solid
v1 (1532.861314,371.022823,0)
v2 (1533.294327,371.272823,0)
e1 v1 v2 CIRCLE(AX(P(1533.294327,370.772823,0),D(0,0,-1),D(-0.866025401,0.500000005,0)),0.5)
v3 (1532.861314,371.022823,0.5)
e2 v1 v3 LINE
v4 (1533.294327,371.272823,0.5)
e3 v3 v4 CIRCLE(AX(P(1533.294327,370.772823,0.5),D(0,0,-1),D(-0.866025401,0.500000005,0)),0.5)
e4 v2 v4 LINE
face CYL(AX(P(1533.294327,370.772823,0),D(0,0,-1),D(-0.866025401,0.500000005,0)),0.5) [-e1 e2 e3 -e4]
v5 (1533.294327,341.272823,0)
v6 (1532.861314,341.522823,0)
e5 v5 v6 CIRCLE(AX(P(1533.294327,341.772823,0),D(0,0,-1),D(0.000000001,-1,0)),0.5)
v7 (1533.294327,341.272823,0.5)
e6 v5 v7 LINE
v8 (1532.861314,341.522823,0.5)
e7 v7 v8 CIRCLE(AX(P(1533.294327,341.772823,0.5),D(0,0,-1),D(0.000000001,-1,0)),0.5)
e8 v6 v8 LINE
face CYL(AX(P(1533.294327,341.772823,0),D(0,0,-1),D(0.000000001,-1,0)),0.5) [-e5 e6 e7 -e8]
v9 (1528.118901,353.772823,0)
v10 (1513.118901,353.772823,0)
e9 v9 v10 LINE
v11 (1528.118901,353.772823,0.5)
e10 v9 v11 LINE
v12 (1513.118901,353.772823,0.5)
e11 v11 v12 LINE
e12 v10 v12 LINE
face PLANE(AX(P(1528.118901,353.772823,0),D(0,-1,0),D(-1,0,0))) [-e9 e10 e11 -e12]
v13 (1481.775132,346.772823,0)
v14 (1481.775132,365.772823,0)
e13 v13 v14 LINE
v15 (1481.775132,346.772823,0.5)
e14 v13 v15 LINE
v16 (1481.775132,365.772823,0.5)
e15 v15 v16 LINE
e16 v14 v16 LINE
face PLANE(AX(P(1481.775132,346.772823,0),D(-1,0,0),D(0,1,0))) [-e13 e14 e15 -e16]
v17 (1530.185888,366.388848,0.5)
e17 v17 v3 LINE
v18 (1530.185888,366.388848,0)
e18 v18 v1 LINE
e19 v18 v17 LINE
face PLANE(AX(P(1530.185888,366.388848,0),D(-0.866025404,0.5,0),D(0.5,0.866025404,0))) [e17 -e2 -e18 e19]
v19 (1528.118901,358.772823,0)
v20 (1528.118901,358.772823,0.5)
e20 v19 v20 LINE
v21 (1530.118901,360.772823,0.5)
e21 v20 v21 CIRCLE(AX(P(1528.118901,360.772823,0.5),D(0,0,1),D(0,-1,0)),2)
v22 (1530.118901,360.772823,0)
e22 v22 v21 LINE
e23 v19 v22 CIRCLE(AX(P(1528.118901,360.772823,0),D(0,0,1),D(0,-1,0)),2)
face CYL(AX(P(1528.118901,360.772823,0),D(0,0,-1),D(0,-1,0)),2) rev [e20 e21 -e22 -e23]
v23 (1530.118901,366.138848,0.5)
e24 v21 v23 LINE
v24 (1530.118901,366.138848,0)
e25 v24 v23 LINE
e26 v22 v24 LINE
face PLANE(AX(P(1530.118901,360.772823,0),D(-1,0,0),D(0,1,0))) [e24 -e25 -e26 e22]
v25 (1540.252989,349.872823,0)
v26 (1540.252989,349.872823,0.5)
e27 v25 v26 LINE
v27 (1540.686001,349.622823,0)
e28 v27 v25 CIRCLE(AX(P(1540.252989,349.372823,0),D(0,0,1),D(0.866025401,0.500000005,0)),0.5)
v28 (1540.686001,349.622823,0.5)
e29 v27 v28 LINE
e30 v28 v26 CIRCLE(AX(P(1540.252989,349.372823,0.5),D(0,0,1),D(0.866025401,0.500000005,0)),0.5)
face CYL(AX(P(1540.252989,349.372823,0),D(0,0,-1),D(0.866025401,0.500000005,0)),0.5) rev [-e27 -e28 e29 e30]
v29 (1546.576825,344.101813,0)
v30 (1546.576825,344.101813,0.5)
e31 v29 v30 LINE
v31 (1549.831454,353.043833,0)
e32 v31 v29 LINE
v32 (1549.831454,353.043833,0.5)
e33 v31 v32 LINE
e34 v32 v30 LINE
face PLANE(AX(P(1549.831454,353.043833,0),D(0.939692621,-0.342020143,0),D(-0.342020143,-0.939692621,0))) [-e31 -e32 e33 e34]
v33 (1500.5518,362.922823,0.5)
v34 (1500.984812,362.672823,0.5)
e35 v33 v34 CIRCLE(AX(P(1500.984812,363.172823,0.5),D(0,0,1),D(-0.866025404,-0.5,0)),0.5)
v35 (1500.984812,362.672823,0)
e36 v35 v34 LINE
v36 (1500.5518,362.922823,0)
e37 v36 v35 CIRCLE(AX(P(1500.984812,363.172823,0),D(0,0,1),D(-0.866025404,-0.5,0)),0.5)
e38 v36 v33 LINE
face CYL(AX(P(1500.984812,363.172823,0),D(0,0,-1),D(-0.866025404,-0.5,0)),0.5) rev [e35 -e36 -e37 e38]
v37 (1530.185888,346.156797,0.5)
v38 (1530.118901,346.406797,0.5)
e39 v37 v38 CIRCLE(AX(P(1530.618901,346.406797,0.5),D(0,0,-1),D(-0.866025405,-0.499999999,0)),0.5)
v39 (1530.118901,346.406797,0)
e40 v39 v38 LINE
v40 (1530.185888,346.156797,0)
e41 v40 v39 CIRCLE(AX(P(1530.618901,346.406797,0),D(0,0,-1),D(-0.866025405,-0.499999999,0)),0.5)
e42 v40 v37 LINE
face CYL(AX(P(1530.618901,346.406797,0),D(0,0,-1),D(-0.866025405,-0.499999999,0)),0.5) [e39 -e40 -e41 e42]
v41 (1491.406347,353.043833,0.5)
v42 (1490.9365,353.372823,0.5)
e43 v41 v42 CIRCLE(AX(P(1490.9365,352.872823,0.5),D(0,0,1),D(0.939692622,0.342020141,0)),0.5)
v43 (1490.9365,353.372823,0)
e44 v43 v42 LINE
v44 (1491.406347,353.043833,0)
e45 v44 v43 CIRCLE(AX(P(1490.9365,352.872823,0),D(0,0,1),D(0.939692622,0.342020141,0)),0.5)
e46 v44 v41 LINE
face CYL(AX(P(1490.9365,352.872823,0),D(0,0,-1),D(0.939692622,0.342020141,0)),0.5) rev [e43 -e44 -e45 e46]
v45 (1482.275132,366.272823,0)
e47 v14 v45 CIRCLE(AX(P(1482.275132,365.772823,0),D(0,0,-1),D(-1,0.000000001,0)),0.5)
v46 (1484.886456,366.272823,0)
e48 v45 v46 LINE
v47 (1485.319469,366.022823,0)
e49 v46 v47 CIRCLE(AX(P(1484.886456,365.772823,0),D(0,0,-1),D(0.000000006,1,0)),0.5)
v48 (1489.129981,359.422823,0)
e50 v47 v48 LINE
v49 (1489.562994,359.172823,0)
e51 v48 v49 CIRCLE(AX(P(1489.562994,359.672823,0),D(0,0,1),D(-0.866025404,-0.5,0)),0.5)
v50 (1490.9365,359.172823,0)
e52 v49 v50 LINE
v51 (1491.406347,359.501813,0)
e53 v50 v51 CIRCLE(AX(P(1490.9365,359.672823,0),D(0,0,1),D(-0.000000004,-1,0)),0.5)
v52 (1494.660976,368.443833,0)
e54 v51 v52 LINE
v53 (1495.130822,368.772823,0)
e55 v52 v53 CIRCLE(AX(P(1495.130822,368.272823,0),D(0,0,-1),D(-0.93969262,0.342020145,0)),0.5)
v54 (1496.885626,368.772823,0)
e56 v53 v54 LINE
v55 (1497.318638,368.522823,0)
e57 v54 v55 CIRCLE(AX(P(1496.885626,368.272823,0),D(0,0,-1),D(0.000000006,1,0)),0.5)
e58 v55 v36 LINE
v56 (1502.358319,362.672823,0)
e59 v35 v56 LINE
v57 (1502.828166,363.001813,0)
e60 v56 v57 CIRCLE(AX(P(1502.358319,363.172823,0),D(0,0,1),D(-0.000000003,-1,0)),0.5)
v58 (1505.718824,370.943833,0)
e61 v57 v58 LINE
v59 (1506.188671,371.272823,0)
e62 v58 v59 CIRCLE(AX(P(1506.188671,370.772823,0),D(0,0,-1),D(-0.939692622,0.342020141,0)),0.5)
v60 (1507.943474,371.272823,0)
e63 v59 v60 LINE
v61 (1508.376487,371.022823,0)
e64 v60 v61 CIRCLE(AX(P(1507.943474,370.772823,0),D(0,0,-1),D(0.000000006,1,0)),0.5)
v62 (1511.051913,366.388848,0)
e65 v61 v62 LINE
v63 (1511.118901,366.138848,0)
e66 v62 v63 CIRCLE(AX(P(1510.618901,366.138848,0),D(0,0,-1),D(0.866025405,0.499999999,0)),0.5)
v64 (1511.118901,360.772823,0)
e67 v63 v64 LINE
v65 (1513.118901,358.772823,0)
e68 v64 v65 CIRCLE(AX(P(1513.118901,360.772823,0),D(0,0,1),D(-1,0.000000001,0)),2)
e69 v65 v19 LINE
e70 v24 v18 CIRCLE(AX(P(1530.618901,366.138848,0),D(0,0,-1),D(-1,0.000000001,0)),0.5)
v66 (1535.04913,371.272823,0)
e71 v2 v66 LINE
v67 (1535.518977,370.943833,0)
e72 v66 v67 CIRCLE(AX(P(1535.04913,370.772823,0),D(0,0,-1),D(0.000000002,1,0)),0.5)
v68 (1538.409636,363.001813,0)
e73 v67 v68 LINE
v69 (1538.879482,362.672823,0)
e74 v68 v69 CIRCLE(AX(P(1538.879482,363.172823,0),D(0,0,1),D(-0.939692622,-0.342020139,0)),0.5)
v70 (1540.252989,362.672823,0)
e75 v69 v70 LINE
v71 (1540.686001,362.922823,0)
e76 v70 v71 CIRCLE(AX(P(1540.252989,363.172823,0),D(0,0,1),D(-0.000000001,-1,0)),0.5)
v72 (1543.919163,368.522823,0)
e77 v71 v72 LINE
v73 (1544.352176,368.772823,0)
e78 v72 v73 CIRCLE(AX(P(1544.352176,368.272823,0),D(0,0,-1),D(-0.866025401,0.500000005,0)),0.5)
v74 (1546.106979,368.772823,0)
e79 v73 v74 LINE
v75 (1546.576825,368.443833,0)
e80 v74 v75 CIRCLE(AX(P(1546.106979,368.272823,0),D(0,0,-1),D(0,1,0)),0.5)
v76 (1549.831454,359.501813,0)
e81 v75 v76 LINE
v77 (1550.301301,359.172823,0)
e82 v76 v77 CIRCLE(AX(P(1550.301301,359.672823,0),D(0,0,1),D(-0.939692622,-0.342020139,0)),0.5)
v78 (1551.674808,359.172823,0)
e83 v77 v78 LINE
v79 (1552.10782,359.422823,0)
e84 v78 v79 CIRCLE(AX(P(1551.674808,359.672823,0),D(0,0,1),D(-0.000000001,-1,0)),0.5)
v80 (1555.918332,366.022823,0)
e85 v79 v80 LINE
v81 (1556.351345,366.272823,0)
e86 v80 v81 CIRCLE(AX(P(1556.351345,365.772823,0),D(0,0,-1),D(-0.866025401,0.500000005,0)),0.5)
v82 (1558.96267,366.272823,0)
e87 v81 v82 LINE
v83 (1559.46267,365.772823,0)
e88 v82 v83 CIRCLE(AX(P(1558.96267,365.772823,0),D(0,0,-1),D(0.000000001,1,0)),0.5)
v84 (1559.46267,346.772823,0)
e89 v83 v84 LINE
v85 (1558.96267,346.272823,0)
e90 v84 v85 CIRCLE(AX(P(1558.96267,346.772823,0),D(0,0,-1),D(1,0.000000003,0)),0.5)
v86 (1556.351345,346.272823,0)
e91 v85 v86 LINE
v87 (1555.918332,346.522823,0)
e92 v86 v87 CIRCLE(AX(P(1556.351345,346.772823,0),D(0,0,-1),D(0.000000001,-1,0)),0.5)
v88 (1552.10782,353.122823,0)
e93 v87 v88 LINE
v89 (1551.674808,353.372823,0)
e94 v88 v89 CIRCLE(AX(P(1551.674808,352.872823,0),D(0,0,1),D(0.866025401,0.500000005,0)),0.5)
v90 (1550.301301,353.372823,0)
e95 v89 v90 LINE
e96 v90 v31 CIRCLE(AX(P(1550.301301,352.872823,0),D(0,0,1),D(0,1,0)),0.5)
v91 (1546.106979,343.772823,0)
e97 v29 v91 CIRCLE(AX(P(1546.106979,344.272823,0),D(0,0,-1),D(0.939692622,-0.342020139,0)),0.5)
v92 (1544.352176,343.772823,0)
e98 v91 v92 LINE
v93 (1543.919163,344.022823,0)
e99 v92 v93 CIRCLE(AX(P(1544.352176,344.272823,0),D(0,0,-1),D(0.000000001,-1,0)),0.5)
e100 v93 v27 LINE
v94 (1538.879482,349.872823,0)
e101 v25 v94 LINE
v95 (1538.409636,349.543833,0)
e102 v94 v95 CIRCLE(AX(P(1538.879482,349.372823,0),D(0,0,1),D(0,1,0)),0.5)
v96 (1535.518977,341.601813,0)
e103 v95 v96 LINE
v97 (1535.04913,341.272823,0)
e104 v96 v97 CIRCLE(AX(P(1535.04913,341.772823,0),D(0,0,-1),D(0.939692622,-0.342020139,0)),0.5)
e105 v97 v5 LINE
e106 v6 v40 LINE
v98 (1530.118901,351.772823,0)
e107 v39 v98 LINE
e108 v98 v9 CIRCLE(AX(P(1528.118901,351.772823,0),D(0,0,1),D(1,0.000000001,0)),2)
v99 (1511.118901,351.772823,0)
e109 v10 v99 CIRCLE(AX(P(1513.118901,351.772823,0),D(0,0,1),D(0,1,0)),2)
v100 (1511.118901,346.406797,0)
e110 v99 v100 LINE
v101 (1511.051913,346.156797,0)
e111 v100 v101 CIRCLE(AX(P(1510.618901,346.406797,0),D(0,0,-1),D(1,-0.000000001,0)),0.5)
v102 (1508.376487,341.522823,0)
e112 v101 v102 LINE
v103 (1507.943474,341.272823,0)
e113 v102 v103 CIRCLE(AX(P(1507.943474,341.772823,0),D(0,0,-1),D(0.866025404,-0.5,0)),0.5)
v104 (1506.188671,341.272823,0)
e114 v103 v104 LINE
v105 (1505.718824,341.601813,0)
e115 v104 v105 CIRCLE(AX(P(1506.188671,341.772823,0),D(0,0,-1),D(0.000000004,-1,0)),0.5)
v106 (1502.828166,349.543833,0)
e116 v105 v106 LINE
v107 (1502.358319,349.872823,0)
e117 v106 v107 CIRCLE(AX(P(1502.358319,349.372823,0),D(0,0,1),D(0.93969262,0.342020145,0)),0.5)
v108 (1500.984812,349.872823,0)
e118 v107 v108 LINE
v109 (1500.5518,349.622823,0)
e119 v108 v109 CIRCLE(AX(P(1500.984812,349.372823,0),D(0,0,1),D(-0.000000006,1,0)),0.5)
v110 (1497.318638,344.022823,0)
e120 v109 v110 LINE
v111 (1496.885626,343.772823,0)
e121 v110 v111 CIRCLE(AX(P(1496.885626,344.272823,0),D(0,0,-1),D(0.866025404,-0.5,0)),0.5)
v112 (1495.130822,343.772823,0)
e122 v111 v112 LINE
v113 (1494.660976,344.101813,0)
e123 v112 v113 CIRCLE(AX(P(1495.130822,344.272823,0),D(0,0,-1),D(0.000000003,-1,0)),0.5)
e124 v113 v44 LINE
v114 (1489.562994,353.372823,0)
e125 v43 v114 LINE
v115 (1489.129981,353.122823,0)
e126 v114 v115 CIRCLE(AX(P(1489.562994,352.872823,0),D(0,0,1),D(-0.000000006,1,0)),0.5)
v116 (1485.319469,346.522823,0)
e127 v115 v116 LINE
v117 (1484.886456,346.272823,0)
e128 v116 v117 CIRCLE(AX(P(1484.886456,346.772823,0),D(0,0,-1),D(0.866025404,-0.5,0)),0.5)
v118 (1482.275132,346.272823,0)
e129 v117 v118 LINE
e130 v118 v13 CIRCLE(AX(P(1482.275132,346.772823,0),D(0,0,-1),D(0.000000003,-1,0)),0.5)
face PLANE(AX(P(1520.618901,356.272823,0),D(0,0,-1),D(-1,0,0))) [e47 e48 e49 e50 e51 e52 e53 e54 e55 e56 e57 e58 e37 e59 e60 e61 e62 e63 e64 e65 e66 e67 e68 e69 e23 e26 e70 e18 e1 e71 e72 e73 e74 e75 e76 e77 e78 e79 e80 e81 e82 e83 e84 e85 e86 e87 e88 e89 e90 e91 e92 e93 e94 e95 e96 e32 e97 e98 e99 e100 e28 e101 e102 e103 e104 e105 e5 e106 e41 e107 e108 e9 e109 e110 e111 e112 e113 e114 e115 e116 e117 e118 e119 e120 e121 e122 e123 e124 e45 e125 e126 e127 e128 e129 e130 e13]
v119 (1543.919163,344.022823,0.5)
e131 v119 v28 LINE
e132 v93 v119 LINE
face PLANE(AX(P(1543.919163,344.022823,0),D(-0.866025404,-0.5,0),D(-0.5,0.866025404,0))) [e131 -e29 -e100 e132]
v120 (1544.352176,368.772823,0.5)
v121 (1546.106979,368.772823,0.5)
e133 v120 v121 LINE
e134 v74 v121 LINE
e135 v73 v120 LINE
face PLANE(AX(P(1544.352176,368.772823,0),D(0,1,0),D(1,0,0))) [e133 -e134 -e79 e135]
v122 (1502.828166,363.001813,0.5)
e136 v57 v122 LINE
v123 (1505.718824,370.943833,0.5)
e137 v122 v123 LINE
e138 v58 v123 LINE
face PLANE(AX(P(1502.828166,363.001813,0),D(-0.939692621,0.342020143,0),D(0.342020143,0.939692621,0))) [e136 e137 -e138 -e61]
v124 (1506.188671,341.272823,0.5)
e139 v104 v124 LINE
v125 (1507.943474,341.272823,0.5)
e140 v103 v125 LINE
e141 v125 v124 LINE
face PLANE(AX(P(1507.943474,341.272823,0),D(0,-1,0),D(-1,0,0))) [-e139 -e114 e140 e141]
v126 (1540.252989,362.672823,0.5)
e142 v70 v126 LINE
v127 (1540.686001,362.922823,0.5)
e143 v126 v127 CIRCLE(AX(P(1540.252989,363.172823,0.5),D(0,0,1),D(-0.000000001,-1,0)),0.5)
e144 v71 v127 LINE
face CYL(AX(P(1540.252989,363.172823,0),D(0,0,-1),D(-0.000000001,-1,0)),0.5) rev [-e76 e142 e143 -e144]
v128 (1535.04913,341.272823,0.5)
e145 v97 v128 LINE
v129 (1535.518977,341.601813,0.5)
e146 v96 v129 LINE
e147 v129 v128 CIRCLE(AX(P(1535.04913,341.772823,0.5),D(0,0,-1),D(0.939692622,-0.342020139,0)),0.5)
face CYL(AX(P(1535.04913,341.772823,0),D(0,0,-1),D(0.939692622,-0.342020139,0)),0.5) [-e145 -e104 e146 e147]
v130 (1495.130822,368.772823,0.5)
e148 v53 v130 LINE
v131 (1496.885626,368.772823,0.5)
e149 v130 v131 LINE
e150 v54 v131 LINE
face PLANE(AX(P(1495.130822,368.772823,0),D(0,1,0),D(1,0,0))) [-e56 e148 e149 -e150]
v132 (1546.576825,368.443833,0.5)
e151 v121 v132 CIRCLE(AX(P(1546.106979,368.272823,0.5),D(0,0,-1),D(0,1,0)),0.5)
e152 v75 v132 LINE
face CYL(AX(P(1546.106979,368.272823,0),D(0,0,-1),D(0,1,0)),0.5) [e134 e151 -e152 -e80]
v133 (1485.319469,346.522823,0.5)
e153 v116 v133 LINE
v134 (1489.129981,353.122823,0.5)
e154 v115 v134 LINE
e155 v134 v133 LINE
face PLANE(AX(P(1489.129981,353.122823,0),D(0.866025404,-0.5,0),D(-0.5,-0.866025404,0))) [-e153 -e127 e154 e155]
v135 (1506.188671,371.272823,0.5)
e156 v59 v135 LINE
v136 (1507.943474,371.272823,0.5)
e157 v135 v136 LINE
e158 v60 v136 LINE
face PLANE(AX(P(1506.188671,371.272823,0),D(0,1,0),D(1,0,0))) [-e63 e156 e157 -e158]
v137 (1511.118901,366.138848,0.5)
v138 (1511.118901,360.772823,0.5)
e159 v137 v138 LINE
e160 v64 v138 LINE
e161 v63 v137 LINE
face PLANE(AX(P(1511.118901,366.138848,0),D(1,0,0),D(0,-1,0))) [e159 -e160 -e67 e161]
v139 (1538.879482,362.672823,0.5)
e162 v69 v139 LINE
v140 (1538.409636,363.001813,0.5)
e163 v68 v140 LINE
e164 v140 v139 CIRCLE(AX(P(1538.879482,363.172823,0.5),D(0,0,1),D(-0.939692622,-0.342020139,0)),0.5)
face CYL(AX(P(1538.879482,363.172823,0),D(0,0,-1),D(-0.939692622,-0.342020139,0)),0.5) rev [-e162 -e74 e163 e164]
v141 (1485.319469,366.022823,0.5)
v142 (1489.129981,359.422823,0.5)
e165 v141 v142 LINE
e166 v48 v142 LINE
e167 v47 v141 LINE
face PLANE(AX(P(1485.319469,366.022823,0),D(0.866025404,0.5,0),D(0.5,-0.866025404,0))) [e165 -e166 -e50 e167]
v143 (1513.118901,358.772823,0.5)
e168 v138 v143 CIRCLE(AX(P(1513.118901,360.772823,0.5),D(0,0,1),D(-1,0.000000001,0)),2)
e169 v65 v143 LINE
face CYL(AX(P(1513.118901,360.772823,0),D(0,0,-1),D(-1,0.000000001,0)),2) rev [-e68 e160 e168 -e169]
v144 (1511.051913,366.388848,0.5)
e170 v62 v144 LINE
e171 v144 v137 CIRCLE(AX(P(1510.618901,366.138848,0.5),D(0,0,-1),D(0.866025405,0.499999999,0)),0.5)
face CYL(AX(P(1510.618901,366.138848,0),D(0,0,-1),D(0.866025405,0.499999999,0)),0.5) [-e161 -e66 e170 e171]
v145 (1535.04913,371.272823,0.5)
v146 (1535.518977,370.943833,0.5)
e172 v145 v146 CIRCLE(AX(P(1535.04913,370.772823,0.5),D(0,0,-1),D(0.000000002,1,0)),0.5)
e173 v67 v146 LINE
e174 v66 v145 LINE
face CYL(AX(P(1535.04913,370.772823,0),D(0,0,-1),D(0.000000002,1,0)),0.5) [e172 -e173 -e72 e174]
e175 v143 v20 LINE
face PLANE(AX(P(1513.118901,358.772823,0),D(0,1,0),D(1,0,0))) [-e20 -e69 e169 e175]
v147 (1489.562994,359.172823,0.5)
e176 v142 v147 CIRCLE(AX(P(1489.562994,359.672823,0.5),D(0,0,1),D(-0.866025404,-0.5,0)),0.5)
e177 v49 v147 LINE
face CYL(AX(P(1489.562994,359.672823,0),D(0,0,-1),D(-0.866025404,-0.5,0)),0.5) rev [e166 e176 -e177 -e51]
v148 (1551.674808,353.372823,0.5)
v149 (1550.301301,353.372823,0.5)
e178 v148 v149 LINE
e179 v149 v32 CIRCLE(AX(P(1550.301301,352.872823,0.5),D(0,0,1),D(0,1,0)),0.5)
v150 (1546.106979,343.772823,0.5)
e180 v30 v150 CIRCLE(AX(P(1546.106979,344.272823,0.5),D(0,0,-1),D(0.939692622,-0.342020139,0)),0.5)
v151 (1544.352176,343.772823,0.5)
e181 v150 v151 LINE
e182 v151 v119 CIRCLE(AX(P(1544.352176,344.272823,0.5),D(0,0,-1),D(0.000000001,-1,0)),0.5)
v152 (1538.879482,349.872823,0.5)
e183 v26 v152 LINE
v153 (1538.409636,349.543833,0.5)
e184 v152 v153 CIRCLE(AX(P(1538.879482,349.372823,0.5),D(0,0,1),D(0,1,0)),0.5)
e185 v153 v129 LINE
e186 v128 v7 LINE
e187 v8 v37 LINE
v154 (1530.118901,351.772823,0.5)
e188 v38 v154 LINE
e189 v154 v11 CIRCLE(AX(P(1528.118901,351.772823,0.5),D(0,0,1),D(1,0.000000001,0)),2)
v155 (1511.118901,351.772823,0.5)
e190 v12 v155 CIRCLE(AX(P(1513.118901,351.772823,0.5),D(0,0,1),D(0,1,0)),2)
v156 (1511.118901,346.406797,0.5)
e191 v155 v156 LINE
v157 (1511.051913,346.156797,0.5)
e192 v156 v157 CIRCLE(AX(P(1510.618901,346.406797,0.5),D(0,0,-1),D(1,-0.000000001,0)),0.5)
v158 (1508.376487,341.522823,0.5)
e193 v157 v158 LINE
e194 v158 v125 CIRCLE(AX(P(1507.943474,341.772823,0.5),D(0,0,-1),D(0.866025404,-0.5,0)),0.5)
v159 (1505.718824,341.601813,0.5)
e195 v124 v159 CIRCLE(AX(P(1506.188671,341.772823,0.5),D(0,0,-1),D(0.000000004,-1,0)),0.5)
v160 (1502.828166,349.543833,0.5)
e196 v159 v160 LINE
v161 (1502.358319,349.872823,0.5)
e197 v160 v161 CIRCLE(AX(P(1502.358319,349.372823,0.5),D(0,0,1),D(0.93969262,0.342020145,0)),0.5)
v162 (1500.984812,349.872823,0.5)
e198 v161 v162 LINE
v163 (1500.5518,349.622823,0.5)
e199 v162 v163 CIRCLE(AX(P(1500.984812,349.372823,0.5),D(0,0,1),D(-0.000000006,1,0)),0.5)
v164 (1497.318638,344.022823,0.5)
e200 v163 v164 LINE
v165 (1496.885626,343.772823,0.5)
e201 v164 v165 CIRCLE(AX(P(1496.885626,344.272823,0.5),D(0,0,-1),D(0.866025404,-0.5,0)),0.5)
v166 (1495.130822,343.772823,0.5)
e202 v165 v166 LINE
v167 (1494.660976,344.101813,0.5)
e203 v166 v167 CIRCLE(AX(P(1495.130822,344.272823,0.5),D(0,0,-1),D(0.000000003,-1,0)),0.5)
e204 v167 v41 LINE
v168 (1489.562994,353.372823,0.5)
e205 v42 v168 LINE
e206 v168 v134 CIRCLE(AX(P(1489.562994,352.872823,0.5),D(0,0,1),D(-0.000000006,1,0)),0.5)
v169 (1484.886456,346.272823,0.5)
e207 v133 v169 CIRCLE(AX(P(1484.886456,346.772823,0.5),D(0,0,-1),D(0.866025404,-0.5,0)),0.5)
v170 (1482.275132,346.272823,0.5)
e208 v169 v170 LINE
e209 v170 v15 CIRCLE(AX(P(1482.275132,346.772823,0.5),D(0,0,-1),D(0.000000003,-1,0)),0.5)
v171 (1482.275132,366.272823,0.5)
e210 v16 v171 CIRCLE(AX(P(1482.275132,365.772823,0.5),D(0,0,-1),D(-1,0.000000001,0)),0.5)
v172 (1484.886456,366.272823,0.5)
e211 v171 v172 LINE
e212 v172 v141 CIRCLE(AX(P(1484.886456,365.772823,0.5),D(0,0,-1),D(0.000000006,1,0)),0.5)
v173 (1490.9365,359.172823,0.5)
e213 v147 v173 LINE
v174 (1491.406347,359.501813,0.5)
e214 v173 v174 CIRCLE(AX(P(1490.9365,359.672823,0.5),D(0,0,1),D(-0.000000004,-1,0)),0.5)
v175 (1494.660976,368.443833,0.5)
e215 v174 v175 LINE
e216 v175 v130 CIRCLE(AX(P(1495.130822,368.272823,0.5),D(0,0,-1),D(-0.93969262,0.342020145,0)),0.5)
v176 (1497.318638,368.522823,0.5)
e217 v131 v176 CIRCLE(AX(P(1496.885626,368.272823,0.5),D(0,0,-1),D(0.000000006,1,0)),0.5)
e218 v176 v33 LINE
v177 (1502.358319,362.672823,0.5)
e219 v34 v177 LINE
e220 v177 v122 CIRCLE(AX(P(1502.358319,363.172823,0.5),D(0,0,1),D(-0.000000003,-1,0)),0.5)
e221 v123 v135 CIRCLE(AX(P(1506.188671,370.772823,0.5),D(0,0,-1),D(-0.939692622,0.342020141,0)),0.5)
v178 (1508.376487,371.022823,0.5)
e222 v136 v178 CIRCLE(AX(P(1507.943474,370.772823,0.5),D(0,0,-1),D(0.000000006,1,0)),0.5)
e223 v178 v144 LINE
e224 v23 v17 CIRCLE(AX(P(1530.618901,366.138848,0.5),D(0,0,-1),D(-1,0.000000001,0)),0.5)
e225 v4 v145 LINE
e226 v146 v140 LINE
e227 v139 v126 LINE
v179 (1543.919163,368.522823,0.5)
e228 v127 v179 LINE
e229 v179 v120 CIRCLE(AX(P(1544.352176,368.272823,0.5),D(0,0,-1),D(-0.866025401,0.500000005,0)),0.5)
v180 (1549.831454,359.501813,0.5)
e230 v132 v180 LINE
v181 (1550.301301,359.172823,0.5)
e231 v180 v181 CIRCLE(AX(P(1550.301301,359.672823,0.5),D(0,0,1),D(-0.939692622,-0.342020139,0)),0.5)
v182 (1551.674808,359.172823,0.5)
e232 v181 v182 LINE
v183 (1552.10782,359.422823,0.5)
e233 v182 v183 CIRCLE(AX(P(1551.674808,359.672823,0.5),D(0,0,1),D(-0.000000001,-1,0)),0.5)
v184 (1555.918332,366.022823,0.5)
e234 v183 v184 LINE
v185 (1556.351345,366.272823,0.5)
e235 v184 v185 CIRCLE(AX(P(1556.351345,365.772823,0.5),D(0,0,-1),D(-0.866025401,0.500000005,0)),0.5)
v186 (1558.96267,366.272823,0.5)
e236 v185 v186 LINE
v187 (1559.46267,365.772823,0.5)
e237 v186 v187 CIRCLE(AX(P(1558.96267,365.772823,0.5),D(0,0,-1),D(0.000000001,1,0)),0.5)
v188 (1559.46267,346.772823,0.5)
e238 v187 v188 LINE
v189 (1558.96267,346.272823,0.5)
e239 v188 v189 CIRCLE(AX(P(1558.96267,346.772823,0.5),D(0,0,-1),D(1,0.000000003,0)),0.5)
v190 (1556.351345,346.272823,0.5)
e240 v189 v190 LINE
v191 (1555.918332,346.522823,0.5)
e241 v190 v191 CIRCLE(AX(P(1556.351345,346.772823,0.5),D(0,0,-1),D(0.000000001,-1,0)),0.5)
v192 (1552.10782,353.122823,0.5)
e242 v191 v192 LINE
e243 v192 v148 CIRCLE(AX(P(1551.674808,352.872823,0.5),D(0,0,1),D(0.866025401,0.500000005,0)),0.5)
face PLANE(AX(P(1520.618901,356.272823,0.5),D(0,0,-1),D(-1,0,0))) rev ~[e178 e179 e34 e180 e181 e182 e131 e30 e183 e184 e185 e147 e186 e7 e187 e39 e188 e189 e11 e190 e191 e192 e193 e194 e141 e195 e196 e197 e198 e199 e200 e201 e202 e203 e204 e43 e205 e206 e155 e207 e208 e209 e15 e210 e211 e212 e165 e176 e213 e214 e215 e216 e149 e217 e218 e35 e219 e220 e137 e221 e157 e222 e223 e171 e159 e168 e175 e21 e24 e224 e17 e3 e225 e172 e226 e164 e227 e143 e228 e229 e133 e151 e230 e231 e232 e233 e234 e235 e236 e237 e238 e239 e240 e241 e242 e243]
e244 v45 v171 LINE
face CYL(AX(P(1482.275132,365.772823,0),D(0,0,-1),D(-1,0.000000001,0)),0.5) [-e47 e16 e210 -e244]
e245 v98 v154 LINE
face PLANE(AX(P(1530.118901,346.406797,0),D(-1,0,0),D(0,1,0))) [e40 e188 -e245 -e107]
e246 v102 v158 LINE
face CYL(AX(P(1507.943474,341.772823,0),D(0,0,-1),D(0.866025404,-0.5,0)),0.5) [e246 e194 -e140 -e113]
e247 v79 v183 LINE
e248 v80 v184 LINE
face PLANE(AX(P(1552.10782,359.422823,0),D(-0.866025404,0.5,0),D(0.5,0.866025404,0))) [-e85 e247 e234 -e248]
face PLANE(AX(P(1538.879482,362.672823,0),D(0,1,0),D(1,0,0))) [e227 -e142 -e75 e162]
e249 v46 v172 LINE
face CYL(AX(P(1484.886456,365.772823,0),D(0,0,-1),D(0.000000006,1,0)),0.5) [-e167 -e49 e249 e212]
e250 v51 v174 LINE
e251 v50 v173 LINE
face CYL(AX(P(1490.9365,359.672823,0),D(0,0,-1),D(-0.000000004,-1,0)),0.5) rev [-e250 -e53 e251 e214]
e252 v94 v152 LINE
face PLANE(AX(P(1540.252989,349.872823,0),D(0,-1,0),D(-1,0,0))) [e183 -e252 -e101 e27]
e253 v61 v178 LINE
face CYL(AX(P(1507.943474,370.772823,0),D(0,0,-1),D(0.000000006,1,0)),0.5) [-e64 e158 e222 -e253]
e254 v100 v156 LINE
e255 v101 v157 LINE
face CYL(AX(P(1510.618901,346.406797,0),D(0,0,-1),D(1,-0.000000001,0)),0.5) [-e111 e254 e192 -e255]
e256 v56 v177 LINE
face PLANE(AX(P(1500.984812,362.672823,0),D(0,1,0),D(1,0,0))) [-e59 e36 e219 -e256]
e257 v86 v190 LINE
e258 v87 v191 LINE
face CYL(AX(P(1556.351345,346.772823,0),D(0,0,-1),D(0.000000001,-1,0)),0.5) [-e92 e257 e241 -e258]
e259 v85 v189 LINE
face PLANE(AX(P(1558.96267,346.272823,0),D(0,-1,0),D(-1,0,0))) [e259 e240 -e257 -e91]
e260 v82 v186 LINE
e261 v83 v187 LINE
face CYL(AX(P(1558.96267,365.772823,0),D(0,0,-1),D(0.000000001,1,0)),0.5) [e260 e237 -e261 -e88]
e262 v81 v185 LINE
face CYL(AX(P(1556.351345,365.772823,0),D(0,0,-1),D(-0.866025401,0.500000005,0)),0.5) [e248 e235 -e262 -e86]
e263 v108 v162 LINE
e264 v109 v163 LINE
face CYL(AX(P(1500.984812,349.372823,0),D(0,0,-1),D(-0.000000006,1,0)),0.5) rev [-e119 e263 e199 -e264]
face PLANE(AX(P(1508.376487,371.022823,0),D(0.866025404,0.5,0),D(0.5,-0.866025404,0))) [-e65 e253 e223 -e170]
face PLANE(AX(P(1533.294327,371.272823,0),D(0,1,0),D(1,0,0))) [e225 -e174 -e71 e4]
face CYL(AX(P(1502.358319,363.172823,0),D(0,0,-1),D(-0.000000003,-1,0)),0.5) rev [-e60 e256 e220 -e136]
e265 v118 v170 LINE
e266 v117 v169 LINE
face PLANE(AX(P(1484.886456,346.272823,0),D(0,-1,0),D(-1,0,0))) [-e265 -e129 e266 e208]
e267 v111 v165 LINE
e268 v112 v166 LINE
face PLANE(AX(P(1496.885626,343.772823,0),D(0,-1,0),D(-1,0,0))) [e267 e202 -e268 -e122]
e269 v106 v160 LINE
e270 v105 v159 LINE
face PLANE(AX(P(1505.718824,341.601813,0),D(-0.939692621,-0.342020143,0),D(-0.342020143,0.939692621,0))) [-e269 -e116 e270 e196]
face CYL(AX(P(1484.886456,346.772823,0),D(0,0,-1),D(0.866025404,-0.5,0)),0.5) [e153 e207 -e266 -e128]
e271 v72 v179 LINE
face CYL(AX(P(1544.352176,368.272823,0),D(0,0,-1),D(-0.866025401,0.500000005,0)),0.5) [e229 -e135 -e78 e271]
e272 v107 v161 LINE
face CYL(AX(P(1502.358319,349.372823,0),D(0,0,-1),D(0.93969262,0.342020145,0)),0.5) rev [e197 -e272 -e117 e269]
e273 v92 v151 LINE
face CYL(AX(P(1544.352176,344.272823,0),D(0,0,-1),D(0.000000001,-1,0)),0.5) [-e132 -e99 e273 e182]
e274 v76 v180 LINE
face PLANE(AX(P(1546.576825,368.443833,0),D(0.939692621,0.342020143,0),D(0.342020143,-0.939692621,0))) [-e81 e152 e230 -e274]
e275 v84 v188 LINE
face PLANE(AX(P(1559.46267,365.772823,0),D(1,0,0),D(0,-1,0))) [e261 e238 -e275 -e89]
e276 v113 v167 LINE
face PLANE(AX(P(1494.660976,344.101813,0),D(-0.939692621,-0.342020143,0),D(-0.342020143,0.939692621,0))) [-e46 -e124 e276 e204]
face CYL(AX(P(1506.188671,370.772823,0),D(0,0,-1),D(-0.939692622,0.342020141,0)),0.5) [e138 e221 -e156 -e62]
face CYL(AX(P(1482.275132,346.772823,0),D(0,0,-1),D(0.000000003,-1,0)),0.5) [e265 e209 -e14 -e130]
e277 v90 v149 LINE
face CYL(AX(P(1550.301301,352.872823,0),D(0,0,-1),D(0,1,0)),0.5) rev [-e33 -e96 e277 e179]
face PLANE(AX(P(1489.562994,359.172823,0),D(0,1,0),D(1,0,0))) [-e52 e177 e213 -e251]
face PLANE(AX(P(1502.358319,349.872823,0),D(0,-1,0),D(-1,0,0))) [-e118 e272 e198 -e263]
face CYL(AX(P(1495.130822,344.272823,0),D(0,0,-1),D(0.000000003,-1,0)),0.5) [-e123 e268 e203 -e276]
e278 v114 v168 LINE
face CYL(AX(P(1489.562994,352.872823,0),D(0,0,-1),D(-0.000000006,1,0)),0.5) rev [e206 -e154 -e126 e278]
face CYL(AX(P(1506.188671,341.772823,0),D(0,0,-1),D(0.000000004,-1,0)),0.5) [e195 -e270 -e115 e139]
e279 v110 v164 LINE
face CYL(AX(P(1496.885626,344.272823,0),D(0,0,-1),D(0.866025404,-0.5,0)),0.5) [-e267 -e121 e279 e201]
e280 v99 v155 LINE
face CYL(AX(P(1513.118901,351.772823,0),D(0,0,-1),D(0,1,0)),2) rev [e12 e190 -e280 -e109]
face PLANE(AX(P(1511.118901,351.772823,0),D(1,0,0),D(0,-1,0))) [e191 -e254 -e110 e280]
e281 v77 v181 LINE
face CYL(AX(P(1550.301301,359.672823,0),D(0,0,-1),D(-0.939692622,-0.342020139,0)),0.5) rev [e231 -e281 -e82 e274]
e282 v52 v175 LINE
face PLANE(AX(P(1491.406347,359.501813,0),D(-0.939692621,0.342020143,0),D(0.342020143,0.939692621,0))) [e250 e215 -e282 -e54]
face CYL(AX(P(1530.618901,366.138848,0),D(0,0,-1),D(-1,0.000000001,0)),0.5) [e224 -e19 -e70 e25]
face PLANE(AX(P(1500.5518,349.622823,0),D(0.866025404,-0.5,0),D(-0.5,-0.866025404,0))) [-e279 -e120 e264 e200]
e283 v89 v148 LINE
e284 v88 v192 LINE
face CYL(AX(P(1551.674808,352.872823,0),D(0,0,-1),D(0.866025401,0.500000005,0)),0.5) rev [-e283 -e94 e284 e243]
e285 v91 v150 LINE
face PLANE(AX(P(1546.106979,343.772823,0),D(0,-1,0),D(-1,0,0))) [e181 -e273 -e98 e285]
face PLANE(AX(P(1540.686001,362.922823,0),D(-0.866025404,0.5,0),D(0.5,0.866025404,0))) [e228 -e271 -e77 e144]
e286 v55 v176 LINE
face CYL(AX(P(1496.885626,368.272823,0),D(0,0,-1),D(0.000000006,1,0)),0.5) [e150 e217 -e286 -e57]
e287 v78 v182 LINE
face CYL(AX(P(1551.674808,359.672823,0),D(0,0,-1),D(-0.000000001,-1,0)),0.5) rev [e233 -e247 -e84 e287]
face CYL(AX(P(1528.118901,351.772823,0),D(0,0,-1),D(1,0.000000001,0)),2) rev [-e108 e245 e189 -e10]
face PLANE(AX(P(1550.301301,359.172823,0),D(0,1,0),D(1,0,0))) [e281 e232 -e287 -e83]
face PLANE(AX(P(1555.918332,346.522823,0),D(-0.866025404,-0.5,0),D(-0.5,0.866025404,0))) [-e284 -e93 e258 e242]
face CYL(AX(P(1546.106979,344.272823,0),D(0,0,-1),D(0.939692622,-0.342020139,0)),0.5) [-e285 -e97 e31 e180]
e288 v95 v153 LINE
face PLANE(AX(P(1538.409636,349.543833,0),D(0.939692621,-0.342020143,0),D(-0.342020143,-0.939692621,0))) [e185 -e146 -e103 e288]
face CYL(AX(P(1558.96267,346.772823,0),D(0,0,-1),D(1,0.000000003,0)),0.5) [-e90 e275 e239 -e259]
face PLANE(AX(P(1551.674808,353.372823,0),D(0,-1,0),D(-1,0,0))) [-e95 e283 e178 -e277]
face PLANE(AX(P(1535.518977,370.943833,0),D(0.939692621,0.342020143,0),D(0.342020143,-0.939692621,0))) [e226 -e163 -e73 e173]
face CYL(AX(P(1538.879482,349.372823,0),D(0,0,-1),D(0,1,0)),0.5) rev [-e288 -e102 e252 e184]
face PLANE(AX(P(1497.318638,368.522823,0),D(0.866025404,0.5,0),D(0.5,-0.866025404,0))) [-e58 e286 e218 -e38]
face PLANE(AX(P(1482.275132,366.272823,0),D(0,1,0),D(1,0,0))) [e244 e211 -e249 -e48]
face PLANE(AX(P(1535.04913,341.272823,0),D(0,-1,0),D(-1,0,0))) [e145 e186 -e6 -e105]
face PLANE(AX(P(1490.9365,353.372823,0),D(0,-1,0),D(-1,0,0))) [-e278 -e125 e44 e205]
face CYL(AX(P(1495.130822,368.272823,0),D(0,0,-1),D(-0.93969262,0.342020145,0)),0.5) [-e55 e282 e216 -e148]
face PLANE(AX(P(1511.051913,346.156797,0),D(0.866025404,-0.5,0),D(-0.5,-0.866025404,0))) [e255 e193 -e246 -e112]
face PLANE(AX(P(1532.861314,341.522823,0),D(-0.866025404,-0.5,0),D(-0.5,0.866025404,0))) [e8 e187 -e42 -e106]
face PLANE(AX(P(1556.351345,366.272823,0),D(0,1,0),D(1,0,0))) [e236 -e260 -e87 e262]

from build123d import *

# Parameters (mm, degrees)
BOSS_EXTRUDE1_DEPTH = 0.5


with BuildPart() as part:
    # Model → Boss-Extrude1 (new body)
    with BuildSketch(Plane.XY):
        with BuildLine():
            Line((1535.049130397, 341.272822748), (1533.294327078, 341.272822748))
            ThreePointArc((1533.294327078, 341.272822748), (1533.044327078, 341.339810046), (1532.861314376, 341.522822748))
            Line((1532.861314376, 341.522822748), (1530.185887896, 346.156797344))
            ThreePointArc((1530.185887896, 346.156797344), (1530.135937685, 346.277387821), (1530.118900598, 346.406797344))
            Line((1530.118900598, 346.406797344), (1530.118900598, 351.772822748))
            ThreePointArc((1530.118900598, 351.772822748), (1529.53311416, 353.18703631), (1528.118900598, 353.772822748))
            Line((1528.118900598, 353.772822748), (1513.118900598, 353.772822748))
            ThreePointArc((1513.118900598, 353.772822748), (1511.704687035, 353.18703631), (1511.118900598, 351.772822748))
            Line((1511.118900598, 351.772822748), (1511.118900598, 346.406797344))
            ThreePointArc((1511.118900598, 346.406797344), (1511.101863511, 346.277387821), (1511.0519133, 346.156797344))
            Line((1511.0519133, 346.156797344), (1508.376486819, 341.522822748))
            ThreePointArc((1508.376486819, 341.522822748), (1508.193474117, 341.339810046), (1507.943474117, 341.272822748))
            Line((1507.943474117, 341.272822748), (1506.188670798, 341.272822748))
            ThreePointArc((1506.188670798, 341.272822748), (1505.90188258, 341.363246725), (1505.718824488, 341.601812676))
            Line((1505.718824488, 341.601812676), (1502.828165556, 349.543832819))
            ThreePointArc((1502.828165556, 349.543832819), (1502.645107463, 349.78239877), (1502.358319245, 349.872822748))
            Line((1502.358319245, 349.872822748), (1500.984812422, 349.872822748))
            ThreePointArc((1500.984812422, 349.872822748), (1500.734812422, 349.805835449), (1500.55179972, 349.622822748))
            Line((1500.55179972, 349.622822748), (1497.318638213, 344.022822748))
            ThreePointArc((1497.318638213, 344.022822748), (1497.135625511, 343.839810046), (1496.885625511, 343.772822748))
            Line((1496.885625511, 343.772822748), (1495.130822192, 343.772822748))
            ThreePointArc((1495.130822192, 343.772822748), (1494.844033974, 343.863246725), (1494.660975881, 344.101812676))
            Line((1494.660975881, 344.101812676), (1491.406346715, 353.043832819))
            ThreePointArc((1491.406346715, 353.043832819), (1491.223288623, 353.28239877), (1490.936500405, 353.372822748))
            Line((1490.936500405, 353.372822748), (1489.562993581, 353.372822748))
            ThreePointArc((1489.562993581, 353.372822748), (1489.312993581, 353.305835449), (1489.129980879, 353.122822748))
            Line((1489.129980879, 353.122822748), (1485.319469103, 346.522822748))
            ThreePointArc((1485.319469103, 346.522822748), (1485.136456401, 346.339810046), (1484.886456401, 346.272822748))
            Line((1484.886456401, 346.272822748), (1482.275131536, 346.272822748))
            ThreePointArc((1482.275131536, 346.272822748), (1481.921578145, 346.419269357), (1481.775131536, 346.772822748))
            Line((1481.775131536, 346.772822748), (1481.775131536, 365.772822748))
            ThreePointArc((1481.775131536, 365.772822748), (1481.921578145, 366.126376138), (1482.275131536, 366.272822748))
            Line((1482.275131536, 366.272822748), (1484.886456401, 366.272822748))
            ThreePointArc((1484.886456401, 366.272822748), (1485.136456401, 366.205835449), (1485.319469103, 366.022822748))
            Line((1485.319469103, 366.022822748), (1489.129980879, 359.422822748))
            ThreePointArc((1489.129980879, 359.422822748), (1489.312993581, 359.239810046), (1489.562993581, 359.172822748))
            Line((1489.562993581, 359.172822748), (1490.936500405, 359.172822748))
            ThreePointArc((1490.936500405, 359.172822748), (1491.223288623, 359.263246725), (1491.406346715, 359.501812676))
            Line((1491.406346715, 359.501812676), (1494.660975881, 368.443832819))
            ThreePointArc((1494.660975881, 368.443832819), (1494.844033974, 368.68239877), (1495.130822192, 368.772822748))
            Line((1495.130822192, 368.772822748), (1496.885625511, 368.772822748))
            ThreePointArc((1496.885625511, 368.772822748), (1497.135625511, 368.705835449), (1497.318638213, 368.522822748))
            Line((1497.318638213, 368.522822748), (1500.55179972, 362.922822748))
            ThreePointArc((1500.55179972, 362.922822748), (1500.734812422, 362.739810046), (1500.984812422, 362.672822748))
            Line((1500.984812422, 362.672822748), (1502.358319245, 362.672822748))
            ThreePointArc((1502.358319245, 362.672822748), (1502.645107463, 362.763246725), (1502.828165556, 363.001812676))
            Line((1502.828165556, 363.001812676), (1505.718824488, 370.943832819))
            ThreePointArc((1505.718824488, 370.943832819), (1505.90188258, 371.18239877), (1506.188670798, 371.272822748))
            Line((1506.188670798, 371.272822748), (1507.943474117, 371.272822748))
            ThreePointArc((1507.943474117, 371.272822748), (1508.193474117, 371.205835449), (1508.376486819, 371.022822748))
            Line((1508.376486819, 371.022822748), (1511.0519133, 366.388848151))
            ThreePointArc((1511.0519133, 366.388848151), (1511.101863511, 366.268257674), (1511.118900598, 366.138848151))
            Line((1511.118900598, 366.138848151), (1511.118900598, 360.772822748))
            ThreePointArc((1511.118900598, 360.772822748), (1511.704687035, 359.358609185), (1513.118900598, 358.772822748))
            Line((1513.118900598, 358.772822748), (1528.118900598, 358.772822748))
            ThreePointArc((1528.118900598, 358.772822748), (1529.53311416, 359.358609185), (1530.118900598, 360.772822748))
            Line((1530.118900598, 360.772822748), (1530.118900598, 366.138848151))
            ThreePointArc((1530.118900598, 366.138848151), (1530.135937685, 366.268257674), (1530.185887896, 366.388848151))
            Line((1530.185887896, 366.388848151), (1532.861314376, 371.022822748))
            ThreePointArc((1532.861314376, 371.022822748), (1533.044327078, 371.205835449), (1533.294327078, 371.272822748))
            Line((1533.294327078, 371.272822748), (1535.049130397, 371.272822748))
            ThreePointArc((1535.049130397, 371.272822748), (1535.335918615, 371.18239877), (1535.518976708, 370.943832819))
            Line((1535.518976708, 370.943832819), (1538.40963564, 363.001812676))
            ThreePointArc((1538.40963564, 363.001812676), (1538.592693732, 362.763246725), (1538.87948195, 362.672822748))
            Line((1538.87948195, 362.672822748), (1540.252988773, 362.672822748))
            ThreePointArc((1540.252988773, 362.672822748), (1540.502988773, 362.739810046), (1540.686001475, 362.922822748))
            Line((1540.686001475, 362.922822748), (1543.919162983, 368.522822748))
            ThreePointArc((1543.919162983, 368.522822748), (1544.102175685, 368.705835449), (1544.352175685, 368.772822748))
            Line((1544.352175685, 368.772822748), (1546.106979004, 368.772822748))
            ThreePointArc((1546.106979004, 368.772822748), (1546.393767222, 368.68239877), (1546.576825314, 368.443832819))
            Line((1546.576825314, 368.443832819), (1549.831454481, 359.501812676))
            ThreePointArc((1549.831454481, 359.501812676), (1550.014512573, 359.263246725), (1550.301300791, 359.172822748))
            Line((1550.301300791, 359.172822748), (1551.674807614, 359.172822748))
            ThreePointArc((1551.674807614, 359.172822748), (1551.924807614, 359.239810046), (1552.107820316, 359.422822748))
            Line((1552.107820316, 359.422822748), (1555.918332093, 366.022822748))
            ThreePointArc((1555.918332093, 366.022822748), (1556.101344795, 366.205835449), (1556.351344795, 366.272822748))
            Line((1556.351344795, 366.272822748), (1558.96266966, 366.272822748))
            ThreePointArc((1558.96266966, 366.272822748), (1559.316223051, 366.126376138), (1559.46266966, 365.772822748))
            Line((1559.46266966, 365.772822748), (1559.46266966, 346.772822748))
            ThreePointArc((1559.46266966, 346.772822748), (1559.316223051, 346.419269357), (1558.96266966, 346.272822748))
            Line((1558.96266966, 346.272822748), (1556.351344795, 346.272822748))
            ThreePointArc((1556.351344795, 346.272822748), (1556.101344795, 346.339810046), (1555.918332093, 346.522822748))
            Line((1555.918332093, 346.522822748), (1552.107820316, 353.122822748))
            ThreePointArc((1552.107820316, 353.122822748), (1551.924807614, 353.305835449), (1551.674807614, 353.372822748))
            Line((1551.674807614, 353.372822748), (1550.301300791, 353.372822748))
            ThreePointArc((1550.301300791, 353.372822748), (1550.014512573, 353.28239877), (1549.831454481, 353.043832819))
            Line((1549.831454481, 353.043832819), (1546.576825314, 344.101812676))
            ThreePointArc((1546.576825314, 344.101812676), (1546.393767222, 343.863246725), (1546.106979004, 343.772822748))
            Line((1546.106979004, 343.772822748), (1544.352175685, 343.772822748))
            ThreePointArc((1544.352175685, 343.772822748), (1544.102175685, 343.839810046), (1543.919162983, 344.022822748))
            Line((1543.919162983, 344.022822748), (1540.686001475, 349.622822748))
            ThreePointArc((1540.686001475, 349.622822748), (1540.502988773, 349.805835449), (1540.252988773, 349.872822748))
            Line((1540.252988773, 349.872822748), (1538.87948195, 349.872822748))
            ThreePointArc((1538.87948195, 349.872822748), (1538.592693732, 349.78239877), (1538.40963564, 349.543832819))
            Line((1538.40963564, 349.543832819), (1535.518976708, 341.601812676))
            ThreePointArc((1535.518976708, 341.601812676), (1535.335918616, 341.363246725), (1535.049130397, 341.272822748))
        make_face()
    extrude(amount=BOSS_EXTRUDE1_DEPTH)


solid = part.part
